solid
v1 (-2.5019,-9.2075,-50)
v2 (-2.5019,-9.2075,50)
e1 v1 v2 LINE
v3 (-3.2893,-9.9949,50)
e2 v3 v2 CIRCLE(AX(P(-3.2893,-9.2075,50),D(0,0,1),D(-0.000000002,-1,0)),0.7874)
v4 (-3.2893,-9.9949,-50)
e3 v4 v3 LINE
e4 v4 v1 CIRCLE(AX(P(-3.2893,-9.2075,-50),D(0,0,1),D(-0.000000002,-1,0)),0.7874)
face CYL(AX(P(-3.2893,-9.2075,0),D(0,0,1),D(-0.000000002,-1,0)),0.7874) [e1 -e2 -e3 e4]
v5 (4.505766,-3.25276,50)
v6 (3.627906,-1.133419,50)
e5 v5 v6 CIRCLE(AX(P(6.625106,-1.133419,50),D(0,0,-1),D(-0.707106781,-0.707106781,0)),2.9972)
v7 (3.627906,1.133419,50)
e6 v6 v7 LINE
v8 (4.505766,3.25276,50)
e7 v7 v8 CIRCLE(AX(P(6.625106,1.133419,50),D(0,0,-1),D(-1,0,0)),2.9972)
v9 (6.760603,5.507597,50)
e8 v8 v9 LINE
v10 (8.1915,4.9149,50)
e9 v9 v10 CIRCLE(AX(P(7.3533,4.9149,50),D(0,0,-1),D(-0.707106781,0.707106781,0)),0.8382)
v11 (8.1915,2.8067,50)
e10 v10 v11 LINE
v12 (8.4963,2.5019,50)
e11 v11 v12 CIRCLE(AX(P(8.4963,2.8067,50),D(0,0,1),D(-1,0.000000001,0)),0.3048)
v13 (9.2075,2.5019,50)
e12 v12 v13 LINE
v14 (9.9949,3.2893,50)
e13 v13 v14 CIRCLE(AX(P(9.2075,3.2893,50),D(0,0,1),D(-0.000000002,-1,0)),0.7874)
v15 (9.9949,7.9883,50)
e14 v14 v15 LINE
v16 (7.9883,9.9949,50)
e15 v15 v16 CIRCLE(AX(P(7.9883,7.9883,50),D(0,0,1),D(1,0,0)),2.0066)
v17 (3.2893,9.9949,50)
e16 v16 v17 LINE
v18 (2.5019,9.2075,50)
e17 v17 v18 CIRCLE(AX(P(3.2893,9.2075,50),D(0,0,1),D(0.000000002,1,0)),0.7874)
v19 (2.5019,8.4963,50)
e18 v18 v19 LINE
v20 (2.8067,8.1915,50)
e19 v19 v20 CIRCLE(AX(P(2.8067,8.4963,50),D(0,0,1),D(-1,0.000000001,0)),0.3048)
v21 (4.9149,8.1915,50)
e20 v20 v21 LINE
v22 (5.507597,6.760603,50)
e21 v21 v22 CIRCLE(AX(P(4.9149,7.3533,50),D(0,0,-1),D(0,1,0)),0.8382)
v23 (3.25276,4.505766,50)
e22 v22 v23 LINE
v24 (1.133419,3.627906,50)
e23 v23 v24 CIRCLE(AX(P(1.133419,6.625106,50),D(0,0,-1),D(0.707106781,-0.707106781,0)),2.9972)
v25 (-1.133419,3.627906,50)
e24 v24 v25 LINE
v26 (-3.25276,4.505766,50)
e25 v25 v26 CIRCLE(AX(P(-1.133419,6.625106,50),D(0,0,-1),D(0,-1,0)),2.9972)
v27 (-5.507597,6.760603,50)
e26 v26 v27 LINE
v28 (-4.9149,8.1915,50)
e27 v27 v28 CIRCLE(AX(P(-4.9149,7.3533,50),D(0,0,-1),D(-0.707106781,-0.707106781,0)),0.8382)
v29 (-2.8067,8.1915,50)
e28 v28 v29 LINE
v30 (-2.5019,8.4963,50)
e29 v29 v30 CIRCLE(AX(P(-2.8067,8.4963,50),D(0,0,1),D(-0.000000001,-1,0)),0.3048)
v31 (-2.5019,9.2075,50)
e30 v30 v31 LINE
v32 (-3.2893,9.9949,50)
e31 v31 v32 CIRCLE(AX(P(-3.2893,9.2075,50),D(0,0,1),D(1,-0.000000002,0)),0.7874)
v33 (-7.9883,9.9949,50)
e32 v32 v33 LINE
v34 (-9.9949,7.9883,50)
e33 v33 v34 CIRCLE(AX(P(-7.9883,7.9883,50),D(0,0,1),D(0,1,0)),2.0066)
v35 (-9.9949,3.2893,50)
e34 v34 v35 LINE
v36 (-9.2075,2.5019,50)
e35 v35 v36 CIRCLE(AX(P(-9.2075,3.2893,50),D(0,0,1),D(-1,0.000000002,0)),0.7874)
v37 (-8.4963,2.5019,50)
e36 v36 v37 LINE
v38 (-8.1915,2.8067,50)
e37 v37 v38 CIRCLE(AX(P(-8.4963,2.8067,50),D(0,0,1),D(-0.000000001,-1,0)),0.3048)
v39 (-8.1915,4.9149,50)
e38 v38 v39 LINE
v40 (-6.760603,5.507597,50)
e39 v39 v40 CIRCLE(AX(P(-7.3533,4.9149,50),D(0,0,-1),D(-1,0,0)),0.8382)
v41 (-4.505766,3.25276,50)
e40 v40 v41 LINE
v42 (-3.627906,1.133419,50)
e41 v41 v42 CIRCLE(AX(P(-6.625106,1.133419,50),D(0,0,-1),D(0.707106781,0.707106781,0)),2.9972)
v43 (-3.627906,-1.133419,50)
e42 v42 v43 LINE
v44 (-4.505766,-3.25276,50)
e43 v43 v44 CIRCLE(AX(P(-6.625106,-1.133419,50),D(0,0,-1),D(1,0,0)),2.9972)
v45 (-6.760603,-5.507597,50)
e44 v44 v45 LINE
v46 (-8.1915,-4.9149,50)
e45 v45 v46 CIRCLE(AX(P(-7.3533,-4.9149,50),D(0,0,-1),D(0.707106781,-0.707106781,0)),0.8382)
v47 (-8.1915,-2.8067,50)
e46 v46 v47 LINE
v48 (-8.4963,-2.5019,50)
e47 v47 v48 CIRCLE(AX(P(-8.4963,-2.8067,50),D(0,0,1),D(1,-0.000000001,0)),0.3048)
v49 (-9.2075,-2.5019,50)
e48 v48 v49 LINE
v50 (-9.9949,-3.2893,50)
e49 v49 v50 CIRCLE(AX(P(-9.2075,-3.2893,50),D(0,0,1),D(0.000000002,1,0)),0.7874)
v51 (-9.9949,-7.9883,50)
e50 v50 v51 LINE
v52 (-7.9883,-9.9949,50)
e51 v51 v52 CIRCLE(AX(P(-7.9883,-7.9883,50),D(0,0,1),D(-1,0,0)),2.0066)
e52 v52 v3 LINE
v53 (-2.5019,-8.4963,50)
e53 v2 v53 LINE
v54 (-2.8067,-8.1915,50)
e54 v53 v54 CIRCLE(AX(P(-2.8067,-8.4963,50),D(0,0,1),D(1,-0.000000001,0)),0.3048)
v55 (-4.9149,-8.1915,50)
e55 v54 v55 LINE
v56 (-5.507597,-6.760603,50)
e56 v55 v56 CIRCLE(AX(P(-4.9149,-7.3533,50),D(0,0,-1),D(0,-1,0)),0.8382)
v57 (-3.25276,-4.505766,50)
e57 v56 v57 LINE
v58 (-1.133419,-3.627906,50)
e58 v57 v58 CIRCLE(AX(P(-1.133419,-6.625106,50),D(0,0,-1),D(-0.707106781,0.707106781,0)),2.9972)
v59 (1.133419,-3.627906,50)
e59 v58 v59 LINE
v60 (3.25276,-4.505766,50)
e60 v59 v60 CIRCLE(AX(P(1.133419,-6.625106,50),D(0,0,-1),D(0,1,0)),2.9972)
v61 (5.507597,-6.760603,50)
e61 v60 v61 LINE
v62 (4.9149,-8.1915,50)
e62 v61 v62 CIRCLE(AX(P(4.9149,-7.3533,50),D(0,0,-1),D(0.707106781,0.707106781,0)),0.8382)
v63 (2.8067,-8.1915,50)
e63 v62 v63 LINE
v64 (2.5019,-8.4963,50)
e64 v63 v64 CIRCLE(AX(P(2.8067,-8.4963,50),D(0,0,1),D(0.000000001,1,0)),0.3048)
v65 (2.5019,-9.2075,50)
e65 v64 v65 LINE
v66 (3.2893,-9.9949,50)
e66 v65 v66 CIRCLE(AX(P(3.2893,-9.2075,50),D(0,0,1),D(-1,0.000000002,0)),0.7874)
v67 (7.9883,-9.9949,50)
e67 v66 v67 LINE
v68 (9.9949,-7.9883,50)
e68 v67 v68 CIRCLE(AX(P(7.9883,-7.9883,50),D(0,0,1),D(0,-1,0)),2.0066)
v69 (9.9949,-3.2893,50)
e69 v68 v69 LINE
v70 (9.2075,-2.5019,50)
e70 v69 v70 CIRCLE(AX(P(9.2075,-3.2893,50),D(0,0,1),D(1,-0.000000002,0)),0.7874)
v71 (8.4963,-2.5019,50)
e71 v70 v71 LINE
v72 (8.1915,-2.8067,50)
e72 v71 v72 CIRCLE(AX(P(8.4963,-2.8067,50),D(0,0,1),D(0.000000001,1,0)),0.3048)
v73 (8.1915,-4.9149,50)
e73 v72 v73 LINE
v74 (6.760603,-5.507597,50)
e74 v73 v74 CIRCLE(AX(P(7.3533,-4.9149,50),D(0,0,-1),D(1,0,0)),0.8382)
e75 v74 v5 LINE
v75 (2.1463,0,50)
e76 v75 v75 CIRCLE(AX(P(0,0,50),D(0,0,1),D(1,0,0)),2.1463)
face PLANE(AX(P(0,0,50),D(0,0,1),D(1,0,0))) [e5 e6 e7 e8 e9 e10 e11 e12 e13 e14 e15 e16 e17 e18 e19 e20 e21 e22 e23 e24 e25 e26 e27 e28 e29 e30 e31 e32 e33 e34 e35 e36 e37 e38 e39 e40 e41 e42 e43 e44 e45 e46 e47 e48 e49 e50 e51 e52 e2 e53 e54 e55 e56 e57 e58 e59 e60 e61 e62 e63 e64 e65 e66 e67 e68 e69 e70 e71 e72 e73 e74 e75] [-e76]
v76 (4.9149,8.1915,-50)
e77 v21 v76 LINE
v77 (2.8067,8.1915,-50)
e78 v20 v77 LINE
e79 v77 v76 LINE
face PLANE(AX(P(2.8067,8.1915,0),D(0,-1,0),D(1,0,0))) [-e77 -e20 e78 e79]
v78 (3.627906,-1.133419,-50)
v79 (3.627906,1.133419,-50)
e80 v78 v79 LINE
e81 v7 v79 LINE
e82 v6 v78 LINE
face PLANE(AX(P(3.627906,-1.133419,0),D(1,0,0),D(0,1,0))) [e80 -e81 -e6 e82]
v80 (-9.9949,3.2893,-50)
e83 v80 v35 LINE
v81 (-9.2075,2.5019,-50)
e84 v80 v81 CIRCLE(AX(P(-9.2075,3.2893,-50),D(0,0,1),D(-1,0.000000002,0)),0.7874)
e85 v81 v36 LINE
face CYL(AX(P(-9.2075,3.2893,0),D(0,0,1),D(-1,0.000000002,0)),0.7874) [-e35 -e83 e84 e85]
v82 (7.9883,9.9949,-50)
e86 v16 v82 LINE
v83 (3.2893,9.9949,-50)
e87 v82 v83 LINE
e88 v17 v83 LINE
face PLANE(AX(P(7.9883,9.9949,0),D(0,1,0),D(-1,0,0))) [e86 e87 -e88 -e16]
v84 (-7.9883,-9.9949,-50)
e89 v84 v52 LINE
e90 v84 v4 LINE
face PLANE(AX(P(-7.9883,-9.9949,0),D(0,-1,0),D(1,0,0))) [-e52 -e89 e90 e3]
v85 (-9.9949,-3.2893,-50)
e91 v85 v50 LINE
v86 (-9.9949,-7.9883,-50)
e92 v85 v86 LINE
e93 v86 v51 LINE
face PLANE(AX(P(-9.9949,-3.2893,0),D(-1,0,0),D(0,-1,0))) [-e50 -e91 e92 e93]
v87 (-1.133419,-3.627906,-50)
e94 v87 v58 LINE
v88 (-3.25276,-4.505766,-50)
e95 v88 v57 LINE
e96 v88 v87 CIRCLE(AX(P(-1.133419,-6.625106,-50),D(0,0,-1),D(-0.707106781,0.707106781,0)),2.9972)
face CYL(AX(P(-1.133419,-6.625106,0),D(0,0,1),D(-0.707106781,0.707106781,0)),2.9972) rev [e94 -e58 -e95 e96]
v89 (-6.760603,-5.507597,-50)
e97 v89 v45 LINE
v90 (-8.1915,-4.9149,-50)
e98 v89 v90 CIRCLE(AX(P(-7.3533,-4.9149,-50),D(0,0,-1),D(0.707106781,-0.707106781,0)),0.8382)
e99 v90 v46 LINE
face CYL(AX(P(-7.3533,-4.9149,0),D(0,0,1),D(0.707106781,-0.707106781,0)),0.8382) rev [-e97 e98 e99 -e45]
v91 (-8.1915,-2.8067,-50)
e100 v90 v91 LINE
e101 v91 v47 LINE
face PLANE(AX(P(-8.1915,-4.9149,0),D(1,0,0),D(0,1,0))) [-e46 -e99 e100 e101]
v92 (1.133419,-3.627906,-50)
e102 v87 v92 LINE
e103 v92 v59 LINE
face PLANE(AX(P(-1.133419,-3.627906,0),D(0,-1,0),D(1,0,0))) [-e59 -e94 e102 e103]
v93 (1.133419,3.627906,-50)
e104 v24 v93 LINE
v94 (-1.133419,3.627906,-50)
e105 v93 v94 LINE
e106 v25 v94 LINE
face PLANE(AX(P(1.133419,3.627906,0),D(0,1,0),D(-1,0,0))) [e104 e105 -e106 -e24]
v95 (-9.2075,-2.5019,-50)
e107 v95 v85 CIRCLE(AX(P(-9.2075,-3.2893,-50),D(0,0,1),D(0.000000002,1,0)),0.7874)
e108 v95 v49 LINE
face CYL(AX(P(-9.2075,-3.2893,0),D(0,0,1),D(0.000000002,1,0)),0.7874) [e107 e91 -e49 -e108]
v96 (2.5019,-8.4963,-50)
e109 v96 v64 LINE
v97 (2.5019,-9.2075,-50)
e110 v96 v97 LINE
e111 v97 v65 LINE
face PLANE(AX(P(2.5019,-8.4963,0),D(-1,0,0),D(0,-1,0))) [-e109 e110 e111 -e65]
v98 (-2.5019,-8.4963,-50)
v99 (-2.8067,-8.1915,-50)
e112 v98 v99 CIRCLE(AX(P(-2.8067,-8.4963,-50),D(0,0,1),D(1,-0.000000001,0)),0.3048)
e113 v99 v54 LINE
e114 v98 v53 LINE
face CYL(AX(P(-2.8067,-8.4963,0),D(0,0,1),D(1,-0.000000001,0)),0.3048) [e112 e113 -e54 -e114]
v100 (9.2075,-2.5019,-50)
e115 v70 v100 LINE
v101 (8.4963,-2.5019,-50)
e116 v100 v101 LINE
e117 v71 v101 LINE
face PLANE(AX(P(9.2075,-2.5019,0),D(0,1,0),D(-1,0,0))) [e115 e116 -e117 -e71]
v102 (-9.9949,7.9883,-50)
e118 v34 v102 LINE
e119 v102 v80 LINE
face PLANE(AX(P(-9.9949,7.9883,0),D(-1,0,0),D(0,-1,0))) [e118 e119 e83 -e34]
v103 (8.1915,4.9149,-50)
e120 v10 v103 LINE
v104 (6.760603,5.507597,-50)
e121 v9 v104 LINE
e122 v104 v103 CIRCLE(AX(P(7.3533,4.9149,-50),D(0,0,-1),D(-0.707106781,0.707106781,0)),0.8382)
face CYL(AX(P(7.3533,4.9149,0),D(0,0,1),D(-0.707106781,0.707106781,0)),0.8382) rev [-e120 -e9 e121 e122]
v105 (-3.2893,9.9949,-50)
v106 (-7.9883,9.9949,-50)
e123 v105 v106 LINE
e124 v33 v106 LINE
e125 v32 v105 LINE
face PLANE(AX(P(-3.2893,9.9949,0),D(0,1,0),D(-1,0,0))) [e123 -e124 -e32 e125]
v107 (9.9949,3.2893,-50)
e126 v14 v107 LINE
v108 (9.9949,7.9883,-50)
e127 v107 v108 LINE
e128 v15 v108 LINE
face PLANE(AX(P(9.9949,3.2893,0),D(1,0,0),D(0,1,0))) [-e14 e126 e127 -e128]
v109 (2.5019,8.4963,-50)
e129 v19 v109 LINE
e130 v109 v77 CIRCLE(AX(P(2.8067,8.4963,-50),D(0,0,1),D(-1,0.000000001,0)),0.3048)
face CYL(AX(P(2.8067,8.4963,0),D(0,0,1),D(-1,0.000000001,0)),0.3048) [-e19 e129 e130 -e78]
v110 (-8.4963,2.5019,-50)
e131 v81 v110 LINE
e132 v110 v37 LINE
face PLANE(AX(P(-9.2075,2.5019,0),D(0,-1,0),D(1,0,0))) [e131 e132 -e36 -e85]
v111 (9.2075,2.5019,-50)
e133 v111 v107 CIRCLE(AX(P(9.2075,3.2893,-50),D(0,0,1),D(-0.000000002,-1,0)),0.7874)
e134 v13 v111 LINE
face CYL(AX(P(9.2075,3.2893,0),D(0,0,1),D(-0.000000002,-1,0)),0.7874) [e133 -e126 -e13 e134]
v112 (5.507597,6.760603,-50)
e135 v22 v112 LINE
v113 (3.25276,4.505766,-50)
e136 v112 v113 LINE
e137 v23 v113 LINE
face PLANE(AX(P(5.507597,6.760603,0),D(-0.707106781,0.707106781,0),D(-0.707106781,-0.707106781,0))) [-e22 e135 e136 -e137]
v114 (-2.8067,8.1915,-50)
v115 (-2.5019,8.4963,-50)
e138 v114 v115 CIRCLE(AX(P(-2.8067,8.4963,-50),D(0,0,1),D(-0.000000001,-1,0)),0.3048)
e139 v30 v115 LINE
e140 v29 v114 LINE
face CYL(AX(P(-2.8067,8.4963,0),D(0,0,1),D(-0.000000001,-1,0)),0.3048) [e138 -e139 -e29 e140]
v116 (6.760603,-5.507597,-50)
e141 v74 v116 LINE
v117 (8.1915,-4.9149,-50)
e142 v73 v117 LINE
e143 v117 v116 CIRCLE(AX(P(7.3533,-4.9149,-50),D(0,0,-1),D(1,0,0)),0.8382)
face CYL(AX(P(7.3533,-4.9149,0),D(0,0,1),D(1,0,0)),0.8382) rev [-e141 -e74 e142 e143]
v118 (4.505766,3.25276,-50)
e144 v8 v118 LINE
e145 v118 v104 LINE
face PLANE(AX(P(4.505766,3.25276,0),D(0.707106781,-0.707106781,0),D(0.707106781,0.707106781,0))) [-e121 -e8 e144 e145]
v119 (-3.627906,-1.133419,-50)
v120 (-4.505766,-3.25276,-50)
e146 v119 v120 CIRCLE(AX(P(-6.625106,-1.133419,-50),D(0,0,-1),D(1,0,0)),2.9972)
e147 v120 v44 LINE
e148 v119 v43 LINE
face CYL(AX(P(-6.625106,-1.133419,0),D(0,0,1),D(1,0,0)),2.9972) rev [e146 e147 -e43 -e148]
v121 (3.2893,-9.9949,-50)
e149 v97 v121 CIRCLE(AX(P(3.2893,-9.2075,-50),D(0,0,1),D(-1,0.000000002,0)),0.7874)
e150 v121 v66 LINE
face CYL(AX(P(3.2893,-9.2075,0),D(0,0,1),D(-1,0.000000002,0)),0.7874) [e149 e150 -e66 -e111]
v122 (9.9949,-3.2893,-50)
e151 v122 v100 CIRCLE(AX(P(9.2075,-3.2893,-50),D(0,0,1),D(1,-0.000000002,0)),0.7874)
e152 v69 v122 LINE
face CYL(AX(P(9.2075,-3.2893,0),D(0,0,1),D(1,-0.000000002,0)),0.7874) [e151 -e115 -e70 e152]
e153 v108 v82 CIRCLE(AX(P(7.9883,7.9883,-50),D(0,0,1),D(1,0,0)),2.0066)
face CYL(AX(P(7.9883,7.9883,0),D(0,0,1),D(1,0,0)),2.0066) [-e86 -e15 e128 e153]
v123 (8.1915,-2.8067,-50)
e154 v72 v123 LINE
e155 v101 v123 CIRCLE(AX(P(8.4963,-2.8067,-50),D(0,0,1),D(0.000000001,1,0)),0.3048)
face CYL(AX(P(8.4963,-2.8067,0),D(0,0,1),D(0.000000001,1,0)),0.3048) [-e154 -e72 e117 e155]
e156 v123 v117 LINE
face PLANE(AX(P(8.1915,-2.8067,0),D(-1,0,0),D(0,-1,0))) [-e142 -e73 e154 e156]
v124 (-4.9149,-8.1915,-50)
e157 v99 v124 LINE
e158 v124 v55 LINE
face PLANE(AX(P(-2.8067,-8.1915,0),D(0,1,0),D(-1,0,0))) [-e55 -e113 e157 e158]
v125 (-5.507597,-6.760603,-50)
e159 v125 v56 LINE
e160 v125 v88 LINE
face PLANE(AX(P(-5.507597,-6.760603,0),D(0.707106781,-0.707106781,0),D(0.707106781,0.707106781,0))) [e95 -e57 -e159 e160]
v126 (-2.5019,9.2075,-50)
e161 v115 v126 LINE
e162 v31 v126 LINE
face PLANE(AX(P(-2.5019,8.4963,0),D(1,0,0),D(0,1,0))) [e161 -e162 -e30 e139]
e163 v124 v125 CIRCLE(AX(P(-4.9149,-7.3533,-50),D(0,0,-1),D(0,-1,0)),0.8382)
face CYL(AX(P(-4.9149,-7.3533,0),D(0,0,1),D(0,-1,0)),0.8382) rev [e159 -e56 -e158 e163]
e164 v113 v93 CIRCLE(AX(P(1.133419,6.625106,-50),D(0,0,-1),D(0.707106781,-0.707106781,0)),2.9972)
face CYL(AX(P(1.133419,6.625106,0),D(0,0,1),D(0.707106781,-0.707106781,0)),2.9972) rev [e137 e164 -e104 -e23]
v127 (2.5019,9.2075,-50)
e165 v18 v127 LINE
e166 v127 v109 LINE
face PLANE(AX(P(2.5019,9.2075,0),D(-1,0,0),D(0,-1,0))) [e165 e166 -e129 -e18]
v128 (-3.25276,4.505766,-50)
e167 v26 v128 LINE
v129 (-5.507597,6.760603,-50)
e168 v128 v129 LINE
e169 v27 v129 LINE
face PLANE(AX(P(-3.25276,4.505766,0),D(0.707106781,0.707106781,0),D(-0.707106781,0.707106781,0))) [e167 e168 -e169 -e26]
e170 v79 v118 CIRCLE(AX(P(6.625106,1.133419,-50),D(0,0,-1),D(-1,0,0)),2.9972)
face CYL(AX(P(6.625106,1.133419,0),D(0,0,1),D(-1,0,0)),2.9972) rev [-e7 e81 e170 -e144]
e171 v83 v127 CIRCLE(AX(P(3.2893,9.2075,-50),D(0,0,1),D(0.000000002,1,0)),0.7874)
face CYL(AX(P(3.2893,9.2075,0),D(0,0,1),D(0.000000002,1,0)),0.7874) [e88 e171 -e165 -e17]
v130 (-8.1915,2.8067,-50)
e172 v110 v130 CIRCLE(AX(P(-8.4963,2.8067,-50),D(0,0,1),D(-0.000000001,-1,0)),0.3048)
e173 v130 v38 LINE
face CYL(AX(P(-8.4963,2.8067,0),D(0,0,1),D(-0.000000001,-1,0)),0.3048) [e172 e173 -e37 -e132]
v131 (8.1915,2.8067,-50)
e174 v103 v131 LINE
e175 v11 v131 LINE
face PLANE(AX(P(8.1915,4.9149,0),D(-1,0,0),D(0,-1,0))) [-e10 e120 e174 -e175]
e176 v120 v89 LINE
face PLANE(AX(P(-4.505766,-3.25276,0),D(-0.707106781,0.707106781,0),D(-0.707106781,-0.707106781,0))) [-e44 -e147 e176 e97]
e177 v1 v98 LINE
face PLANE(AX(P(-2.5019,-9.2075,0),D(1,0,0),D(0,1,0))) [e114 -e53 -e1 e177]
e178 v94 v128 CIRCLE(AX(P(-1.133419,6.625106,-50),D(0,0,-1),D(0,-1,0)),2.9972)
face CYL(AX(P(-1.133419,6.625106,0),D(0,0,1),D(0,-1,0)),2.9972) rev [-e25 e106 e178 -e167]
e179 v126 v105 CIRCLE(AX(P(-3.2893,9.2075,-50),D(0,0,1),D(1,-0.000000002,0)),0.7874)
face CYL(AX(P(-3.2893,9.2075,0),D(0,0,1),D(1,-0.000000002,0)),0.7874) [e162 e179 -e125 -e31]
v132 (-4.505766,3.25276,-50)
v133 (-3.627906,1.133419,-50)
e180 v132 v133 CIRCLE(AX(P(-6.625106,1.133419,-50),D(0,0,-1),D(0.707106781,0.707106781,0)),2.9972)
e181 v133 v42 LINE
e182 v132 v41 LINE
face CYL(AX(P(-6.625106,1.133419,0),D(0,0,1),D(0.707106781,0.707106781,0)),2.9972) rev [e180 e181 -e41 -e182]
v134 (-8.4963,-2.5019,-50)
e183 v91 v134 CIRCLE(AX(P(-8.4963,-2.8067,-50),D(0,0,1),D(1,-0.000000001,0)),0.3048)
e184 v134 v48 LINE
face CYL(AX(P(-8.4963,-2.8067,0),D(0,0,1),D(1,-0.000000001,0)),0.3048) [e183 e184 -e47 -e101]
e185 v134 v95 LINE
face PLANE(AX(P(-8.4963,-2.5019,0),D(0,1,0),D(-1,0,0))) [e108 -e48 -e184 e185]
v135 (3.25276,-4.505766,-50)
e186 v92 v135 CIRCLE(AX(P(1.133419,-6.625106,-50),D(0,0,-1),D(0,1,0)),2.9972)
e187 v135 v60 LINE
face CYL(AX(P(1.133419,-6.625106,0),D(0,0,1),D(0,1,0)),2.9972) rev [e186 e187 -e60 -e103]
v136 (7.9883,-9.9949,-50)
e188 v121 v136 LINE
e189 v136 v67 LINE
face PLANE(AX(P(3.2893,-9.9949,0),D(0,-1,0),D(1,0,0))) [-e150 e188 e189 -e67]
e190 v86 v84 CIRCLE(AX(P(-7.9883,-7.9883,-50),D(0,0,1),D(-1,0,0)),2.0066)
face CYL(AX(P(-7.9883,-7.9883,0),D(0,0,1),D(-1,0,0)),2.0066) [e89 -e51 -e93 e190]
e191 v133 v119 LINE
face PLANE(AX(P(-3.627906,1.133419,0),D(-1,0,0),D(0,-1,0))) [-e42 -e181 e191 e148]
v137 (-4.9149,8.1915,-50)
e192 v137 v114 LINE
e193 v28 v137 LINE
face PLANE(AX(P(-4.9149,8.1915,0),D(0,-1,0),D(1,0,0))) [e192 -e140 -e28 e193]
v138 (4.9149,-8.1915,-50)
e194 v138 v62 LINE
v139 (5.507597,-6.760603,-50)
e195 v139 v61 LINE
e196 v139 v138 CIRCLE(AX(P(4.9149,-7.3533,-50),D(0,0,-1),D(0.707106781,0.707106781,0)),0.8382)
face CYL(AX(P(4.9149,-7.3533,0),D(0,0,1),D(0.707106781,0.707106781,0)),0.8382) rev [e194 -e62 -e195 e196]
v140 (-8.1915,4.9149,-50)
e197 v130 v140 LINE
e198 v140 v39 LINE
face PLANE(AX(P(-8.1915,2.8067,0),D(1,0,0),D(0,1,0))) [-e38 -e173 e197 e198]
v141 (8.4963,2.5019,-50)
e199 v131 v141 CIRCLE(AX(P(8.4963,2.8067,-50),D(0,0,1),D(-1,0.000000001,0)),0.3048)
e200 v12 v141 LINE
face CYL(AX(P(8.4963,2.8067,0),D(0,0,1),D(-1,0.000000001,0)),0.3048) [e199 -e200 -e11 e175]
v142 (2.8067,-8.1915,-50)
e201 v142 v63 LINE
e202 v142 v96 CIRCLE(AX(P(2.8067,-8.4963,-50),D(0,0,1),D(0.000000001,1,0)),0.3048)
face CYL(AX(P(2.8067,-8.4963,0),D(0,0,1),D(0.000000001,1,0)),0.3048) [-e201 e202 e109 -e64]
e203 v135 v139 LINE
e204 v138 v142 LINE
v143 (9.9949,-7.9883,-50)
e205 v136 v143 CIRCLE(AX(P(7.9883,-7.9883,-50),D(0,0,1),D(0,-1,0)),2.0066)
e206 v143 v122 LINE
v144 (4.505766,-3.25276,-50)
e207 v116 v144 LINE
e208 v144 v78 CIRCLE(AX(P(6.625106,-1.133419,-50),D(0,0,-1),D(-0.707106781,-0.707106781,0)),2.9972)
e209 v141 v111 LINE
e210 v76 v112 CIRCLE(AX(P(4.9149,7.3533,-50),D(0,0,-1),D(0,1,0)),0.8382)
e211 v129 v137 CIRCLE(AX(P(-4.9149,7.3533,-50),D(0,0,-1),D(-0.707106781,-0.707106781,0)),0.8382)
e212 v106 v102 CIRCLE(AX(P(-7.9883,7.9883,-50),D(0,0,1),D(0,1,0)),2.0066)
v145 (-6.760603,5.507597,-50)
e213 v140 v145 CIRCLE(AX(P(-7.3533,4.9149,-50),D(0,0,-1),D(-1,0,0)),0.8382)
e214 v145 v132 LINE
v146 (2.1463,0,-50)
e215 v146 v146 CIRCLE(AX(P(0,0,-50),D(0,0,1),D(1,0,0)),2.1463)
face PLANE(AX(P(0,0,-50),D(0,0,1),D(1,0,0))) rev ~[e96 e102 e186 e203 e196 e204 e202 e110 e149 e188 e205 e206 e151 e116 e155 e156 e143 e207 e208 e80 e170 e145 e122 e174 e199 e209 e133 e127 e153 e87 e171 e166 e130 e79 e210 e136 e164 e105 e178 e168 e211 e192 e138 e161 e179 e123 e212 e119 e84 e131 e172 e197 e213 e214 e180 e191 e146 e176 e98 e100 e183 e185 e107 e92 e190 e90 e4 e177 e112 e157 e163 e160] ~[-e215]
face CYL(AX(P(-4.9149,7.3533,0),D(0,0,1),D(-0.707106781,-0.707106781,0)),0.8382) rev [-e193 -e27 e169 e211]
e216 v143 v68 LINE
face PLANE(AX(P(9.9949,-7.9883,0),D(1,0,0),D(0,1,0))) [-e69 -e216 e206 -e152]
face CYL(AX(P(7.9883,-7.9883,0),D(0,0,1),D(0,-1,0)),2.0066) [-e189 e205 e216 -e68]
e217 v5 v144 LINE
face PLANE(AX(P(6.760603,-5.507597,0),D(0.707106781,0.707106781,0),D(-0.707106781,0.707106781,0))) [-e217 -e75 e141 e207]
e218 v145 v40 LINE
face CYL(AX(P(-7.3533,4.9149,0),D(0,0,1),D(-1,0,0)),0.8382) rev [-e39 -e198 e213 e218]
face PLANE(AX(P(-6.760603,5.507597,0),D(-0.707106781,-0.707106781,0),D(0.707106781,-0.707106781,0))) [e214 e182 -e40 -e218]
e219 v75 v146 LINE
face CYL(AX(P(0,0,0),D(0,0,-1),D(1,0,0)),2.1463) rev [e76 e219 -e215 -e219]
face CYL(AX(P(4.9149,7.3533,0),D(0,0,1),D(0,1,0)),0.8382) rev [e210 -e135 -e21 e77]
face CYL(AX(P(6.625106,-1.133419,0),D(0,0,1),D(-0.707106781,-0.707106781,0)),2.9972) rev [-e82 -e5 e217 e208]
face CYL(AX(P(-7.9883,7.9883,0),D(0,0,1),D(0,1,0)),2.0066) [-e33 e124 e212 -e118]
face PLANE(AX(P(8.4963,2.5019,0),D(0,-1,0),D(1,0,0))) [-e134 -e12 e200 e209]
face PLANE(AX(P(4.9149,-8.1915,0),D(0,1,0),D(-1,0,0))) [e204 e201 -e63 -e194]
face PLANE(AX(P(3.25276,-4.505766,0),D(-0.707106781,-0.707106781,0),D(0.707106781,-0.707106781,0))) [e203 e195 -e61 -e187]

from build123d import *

# Parameters (mm, degrees)
SKETCH1_R           = 2.1463
BOSS_EXTRUDE1_DEPTH = 50


with BuildPart() as part:
    # Sketch1 → Boss-Extrude1 (new body, symmetric)
    with BuildSketch(Plane.XY):
        with BuildLine():
            Line((-9.9949, 7.9883), (-9.9949, 3.2893))
            ThreePointArc((-9.9949, 3.2893), (-9.76427588, 2.73252412), (-9.2075, 2.5019))
            Line((-9.2075, 2.5019), (-8.4963, 2.5019))
            ThreePointArc((-8.4963, 2.5019), (-8.280773853, 2.591173853), (-8.1915, 2.8067))
            Line((-8.1915, 2.8067), (-8.1915, 4.9149))
            ThreePointArc((-8.1915, 4.9149), (-7.674065253, 5.689295824), (-6.760603096, 5.507596904))
            Line((-6.760603096, 5.507596904), (-4.505765747, 3.252759555))
            ThreePointArc((-4.505765747, 3.252759555), (-3.856054457, 2.280397894), (-3.627906192, 1.133419111))
            Line((-3.627906192, 1.133419111), (-3.627906192, -1.133419111))
            ThreePointArc((-3.627906192, -1.133419111), (-3.856054457, -2.280397894), (-4.505765747, -3.252759555))
            Line((-4.505765747, -3.252759555), (-6.760603096, -5.507596904))
            ThreePointArc((-6.760603096, -5.507596904), (-7.674065253, -5.689295824), (-8.1915, -4.9149))
            Line((-8.1915, -4.9149), (-8.1915, -2.8067))
            ThreePointArc((-8.1915, -2.8067), (-8.280773853, -2.591173853), (-8.4963, -2.5019))
            Line((-8.4963, -2.5019), (-9.2075, -2.5019))
            ThreePointArc((-9.2075, -2.5019), (-9.76427588, -2.73252412), (-9.9949, -3.2893))
            Line((-9.9949, -3.2893), (-9.9949, -7.9883))
            ThreePointArc((-9.9949, -7.9883), (-9.407180467, -9.407180467), (-7.9883, -9.9949))
            Line((-7.9883, -9.9949), (-3.2893, -9.9949))
            ThreePointArc((-3.2893, -9.9949), (-2.73252412, -9.76427588), (-2.5019, -9.2075))
            Line((-2.5019, -9.2075), (-2.5019, -8.4963))
            ThreePointArc((-2.5019, -8.4963), (-2.591173853, -8.280773853), (-2.8067, -8.1915))
            Line((-2.8067, -8.1915), (-4.9149, -8.1915))
            ThreePointArc((-4.9149, -8.1915), (-5.689295824, -7.674065253), (-5.507596904, -6.760603096))
            Line((-5.507596904, -6.760603096), (-3.252759555, -4.505765747))
            ThreePointArc((-3.252759555, -4.505765747), (-2.280397894, -3.856054457), (-1.133419111, -3.627906192))
            Line((-1.133419111, -3.627906192), (1.133419111, -3.627906192))
            ThreePointArc((1.133419111, -3.627906192), (2.280397894, -3.856054457), (3.252759555, -4.505765747))
            Line((3.252759555, -4.505765747), (5.507596904, -6.760603096))
            ThreePointArc((5.507596904, -6.760603096), (5.689295824, -7.674065253), (4.9149, -8.1915))
            Line((4.9149, -8.1915), (2.8067, -8.1915))
            ThreePointArc((2.8067, -8.1915), (2.591173853, -8.280773853), (2.5019, -8.4963))
            Line((2.5019, -8.4963), (2.5019, -9.2075))
            ThreePointArc((2.5019, -9.2075), (2.73252412, -9.76427588), (3.2893, -9.9949))
            Line((3.2893, -9.9949), (7.9883, -9.9949))
            ThreePointArc((7.9883, -9.9949), (9.407180467, -9.407180467), (9.9949, -7.9883))
            Line((9.9949, -7.9883), (9.9949, -3.2893))
            ThreePointArc((9.9949, -3.2893), (9.76427588, -2.73252412), (9.2075, -2.5019))
            Line((9.2075, -2.5019), (8.4963, -2.5019))
            ThreePointArc((8.4963, -2.5019), (8.280773853, -2.591173853), (8.1915, -2.8067))
            Line((8.1915, -2.8067), (8.1915, -4.9149))
            ThreePointArc((8.1915, -4.9149), (7.674065253, -5.689295824), (6.760603096, -5.507596904))
            Line((6.760603096, -5.507596904), (4.505765747, -3.252759555))
            ThreePointArc((4.505765747, -3.252759555), (3.856054457, -2.280397894), (3.627906192, -1.133419111))
            Line((3.627906192, -1.133419111), (3.627906192, 1.133419111))
            ThreePointArc((3.627906192, 1.133419111), (3.856054457, 2.280397894), (4.505765747, 3.252759555))
            Line((4.505765747, 3.252759555), (6.760603096, 5.507596904))
            ThreePointArc((6.760603096, 5.507596904), (7.674065253, 5.689295824), (8.1915, 4.9149))
            Line((8.1915, 4.9149), (8.1915, 2.8067))
            ThreePointArc((8.1915, 2.8067), (8.280773853, 2.591173853), (8.4963, 2.5019))
            Line((8.4963, 2.5019), (9.2075, 2.5019))
            ThreePointArc((9.2075, 2.5019), (9.76427588, 2.73252412), (9.9949, 3.2893))
            Line((9.9949, 3.2893), (9.9949, 7.9883))
            ThreePointArc((9.9949, 7.9883), (9.407180467, 9.407180467), (7.9883, 9.9949))
            Line((7.9883, 9.9949), (3.2893, 9.9949))
            ThreePointArc((3.2893, 9.9949), (2.73252412, 9.76427588), (2.5019, 9.2075))
            Line((2.5019, 9.2075), (2.5019, 8.4963))
            ThreePointArc((2.5019, 8.4963), (2.591173853, 8.280773853), (2.8067, 8.1915))
            Line((2.8067, 8.1915), (4.9149, 8.1915))
            ThreePointArc((4.9149, 8.1915), (5.689295824, 7.674065253), (5.507596904, 6.760603096))
            Line((5.507596904, 6.760603096), (3.252759555, 4.505765747))
            ThreePointArc((3.252759555, 4.505765747), (2.280397894, 3.856054457), (1.133419111, 3.627906192))
            Line((1.133419111, 3.627906192), (-1.133419111, 3.627906192))
            ThreePointArc((-1.133419111, 3.627906192), (-2.280397894, 3.856054457), (-3.252759555, 4.505765747))
            Line((-3.252759555, 4.505765747), (-5.507596904, 6.760603096))
            ThreePointArc((-5.507596904, 6.760603096), (-5.689295824, 7.674065253), (-4.9149, 8.1915))
            Line((-4.9149, 8.1915), (-2.8067, 8.1915))
            ThreePointArc((-2.8067, 8.1915), (-2.591173853, 8.280773853), (-2.5019, 8.4963))
            Line((-2.5019, 8.4963), (-2.5019, 9.2075))
            ThreePointArc((-2.5019, 9.2075), (-2.73252412, 9.76427588), (-3.2893, 9.9949))
            Line((-3.2893, 9.9949), (-7.9883, 9.9949))
            ThreePointArc((-7.9883, 9.9949), (-9.407180467, 9.407180467), (-9.9949, 7.9883))
        make_face()
        Circle(SKETCH1_R, mode=Mode.SUBTRACT)
    extrude(amount=BOSS_EXTRUDE1_DEPTH, both=True)


solid = part.part
